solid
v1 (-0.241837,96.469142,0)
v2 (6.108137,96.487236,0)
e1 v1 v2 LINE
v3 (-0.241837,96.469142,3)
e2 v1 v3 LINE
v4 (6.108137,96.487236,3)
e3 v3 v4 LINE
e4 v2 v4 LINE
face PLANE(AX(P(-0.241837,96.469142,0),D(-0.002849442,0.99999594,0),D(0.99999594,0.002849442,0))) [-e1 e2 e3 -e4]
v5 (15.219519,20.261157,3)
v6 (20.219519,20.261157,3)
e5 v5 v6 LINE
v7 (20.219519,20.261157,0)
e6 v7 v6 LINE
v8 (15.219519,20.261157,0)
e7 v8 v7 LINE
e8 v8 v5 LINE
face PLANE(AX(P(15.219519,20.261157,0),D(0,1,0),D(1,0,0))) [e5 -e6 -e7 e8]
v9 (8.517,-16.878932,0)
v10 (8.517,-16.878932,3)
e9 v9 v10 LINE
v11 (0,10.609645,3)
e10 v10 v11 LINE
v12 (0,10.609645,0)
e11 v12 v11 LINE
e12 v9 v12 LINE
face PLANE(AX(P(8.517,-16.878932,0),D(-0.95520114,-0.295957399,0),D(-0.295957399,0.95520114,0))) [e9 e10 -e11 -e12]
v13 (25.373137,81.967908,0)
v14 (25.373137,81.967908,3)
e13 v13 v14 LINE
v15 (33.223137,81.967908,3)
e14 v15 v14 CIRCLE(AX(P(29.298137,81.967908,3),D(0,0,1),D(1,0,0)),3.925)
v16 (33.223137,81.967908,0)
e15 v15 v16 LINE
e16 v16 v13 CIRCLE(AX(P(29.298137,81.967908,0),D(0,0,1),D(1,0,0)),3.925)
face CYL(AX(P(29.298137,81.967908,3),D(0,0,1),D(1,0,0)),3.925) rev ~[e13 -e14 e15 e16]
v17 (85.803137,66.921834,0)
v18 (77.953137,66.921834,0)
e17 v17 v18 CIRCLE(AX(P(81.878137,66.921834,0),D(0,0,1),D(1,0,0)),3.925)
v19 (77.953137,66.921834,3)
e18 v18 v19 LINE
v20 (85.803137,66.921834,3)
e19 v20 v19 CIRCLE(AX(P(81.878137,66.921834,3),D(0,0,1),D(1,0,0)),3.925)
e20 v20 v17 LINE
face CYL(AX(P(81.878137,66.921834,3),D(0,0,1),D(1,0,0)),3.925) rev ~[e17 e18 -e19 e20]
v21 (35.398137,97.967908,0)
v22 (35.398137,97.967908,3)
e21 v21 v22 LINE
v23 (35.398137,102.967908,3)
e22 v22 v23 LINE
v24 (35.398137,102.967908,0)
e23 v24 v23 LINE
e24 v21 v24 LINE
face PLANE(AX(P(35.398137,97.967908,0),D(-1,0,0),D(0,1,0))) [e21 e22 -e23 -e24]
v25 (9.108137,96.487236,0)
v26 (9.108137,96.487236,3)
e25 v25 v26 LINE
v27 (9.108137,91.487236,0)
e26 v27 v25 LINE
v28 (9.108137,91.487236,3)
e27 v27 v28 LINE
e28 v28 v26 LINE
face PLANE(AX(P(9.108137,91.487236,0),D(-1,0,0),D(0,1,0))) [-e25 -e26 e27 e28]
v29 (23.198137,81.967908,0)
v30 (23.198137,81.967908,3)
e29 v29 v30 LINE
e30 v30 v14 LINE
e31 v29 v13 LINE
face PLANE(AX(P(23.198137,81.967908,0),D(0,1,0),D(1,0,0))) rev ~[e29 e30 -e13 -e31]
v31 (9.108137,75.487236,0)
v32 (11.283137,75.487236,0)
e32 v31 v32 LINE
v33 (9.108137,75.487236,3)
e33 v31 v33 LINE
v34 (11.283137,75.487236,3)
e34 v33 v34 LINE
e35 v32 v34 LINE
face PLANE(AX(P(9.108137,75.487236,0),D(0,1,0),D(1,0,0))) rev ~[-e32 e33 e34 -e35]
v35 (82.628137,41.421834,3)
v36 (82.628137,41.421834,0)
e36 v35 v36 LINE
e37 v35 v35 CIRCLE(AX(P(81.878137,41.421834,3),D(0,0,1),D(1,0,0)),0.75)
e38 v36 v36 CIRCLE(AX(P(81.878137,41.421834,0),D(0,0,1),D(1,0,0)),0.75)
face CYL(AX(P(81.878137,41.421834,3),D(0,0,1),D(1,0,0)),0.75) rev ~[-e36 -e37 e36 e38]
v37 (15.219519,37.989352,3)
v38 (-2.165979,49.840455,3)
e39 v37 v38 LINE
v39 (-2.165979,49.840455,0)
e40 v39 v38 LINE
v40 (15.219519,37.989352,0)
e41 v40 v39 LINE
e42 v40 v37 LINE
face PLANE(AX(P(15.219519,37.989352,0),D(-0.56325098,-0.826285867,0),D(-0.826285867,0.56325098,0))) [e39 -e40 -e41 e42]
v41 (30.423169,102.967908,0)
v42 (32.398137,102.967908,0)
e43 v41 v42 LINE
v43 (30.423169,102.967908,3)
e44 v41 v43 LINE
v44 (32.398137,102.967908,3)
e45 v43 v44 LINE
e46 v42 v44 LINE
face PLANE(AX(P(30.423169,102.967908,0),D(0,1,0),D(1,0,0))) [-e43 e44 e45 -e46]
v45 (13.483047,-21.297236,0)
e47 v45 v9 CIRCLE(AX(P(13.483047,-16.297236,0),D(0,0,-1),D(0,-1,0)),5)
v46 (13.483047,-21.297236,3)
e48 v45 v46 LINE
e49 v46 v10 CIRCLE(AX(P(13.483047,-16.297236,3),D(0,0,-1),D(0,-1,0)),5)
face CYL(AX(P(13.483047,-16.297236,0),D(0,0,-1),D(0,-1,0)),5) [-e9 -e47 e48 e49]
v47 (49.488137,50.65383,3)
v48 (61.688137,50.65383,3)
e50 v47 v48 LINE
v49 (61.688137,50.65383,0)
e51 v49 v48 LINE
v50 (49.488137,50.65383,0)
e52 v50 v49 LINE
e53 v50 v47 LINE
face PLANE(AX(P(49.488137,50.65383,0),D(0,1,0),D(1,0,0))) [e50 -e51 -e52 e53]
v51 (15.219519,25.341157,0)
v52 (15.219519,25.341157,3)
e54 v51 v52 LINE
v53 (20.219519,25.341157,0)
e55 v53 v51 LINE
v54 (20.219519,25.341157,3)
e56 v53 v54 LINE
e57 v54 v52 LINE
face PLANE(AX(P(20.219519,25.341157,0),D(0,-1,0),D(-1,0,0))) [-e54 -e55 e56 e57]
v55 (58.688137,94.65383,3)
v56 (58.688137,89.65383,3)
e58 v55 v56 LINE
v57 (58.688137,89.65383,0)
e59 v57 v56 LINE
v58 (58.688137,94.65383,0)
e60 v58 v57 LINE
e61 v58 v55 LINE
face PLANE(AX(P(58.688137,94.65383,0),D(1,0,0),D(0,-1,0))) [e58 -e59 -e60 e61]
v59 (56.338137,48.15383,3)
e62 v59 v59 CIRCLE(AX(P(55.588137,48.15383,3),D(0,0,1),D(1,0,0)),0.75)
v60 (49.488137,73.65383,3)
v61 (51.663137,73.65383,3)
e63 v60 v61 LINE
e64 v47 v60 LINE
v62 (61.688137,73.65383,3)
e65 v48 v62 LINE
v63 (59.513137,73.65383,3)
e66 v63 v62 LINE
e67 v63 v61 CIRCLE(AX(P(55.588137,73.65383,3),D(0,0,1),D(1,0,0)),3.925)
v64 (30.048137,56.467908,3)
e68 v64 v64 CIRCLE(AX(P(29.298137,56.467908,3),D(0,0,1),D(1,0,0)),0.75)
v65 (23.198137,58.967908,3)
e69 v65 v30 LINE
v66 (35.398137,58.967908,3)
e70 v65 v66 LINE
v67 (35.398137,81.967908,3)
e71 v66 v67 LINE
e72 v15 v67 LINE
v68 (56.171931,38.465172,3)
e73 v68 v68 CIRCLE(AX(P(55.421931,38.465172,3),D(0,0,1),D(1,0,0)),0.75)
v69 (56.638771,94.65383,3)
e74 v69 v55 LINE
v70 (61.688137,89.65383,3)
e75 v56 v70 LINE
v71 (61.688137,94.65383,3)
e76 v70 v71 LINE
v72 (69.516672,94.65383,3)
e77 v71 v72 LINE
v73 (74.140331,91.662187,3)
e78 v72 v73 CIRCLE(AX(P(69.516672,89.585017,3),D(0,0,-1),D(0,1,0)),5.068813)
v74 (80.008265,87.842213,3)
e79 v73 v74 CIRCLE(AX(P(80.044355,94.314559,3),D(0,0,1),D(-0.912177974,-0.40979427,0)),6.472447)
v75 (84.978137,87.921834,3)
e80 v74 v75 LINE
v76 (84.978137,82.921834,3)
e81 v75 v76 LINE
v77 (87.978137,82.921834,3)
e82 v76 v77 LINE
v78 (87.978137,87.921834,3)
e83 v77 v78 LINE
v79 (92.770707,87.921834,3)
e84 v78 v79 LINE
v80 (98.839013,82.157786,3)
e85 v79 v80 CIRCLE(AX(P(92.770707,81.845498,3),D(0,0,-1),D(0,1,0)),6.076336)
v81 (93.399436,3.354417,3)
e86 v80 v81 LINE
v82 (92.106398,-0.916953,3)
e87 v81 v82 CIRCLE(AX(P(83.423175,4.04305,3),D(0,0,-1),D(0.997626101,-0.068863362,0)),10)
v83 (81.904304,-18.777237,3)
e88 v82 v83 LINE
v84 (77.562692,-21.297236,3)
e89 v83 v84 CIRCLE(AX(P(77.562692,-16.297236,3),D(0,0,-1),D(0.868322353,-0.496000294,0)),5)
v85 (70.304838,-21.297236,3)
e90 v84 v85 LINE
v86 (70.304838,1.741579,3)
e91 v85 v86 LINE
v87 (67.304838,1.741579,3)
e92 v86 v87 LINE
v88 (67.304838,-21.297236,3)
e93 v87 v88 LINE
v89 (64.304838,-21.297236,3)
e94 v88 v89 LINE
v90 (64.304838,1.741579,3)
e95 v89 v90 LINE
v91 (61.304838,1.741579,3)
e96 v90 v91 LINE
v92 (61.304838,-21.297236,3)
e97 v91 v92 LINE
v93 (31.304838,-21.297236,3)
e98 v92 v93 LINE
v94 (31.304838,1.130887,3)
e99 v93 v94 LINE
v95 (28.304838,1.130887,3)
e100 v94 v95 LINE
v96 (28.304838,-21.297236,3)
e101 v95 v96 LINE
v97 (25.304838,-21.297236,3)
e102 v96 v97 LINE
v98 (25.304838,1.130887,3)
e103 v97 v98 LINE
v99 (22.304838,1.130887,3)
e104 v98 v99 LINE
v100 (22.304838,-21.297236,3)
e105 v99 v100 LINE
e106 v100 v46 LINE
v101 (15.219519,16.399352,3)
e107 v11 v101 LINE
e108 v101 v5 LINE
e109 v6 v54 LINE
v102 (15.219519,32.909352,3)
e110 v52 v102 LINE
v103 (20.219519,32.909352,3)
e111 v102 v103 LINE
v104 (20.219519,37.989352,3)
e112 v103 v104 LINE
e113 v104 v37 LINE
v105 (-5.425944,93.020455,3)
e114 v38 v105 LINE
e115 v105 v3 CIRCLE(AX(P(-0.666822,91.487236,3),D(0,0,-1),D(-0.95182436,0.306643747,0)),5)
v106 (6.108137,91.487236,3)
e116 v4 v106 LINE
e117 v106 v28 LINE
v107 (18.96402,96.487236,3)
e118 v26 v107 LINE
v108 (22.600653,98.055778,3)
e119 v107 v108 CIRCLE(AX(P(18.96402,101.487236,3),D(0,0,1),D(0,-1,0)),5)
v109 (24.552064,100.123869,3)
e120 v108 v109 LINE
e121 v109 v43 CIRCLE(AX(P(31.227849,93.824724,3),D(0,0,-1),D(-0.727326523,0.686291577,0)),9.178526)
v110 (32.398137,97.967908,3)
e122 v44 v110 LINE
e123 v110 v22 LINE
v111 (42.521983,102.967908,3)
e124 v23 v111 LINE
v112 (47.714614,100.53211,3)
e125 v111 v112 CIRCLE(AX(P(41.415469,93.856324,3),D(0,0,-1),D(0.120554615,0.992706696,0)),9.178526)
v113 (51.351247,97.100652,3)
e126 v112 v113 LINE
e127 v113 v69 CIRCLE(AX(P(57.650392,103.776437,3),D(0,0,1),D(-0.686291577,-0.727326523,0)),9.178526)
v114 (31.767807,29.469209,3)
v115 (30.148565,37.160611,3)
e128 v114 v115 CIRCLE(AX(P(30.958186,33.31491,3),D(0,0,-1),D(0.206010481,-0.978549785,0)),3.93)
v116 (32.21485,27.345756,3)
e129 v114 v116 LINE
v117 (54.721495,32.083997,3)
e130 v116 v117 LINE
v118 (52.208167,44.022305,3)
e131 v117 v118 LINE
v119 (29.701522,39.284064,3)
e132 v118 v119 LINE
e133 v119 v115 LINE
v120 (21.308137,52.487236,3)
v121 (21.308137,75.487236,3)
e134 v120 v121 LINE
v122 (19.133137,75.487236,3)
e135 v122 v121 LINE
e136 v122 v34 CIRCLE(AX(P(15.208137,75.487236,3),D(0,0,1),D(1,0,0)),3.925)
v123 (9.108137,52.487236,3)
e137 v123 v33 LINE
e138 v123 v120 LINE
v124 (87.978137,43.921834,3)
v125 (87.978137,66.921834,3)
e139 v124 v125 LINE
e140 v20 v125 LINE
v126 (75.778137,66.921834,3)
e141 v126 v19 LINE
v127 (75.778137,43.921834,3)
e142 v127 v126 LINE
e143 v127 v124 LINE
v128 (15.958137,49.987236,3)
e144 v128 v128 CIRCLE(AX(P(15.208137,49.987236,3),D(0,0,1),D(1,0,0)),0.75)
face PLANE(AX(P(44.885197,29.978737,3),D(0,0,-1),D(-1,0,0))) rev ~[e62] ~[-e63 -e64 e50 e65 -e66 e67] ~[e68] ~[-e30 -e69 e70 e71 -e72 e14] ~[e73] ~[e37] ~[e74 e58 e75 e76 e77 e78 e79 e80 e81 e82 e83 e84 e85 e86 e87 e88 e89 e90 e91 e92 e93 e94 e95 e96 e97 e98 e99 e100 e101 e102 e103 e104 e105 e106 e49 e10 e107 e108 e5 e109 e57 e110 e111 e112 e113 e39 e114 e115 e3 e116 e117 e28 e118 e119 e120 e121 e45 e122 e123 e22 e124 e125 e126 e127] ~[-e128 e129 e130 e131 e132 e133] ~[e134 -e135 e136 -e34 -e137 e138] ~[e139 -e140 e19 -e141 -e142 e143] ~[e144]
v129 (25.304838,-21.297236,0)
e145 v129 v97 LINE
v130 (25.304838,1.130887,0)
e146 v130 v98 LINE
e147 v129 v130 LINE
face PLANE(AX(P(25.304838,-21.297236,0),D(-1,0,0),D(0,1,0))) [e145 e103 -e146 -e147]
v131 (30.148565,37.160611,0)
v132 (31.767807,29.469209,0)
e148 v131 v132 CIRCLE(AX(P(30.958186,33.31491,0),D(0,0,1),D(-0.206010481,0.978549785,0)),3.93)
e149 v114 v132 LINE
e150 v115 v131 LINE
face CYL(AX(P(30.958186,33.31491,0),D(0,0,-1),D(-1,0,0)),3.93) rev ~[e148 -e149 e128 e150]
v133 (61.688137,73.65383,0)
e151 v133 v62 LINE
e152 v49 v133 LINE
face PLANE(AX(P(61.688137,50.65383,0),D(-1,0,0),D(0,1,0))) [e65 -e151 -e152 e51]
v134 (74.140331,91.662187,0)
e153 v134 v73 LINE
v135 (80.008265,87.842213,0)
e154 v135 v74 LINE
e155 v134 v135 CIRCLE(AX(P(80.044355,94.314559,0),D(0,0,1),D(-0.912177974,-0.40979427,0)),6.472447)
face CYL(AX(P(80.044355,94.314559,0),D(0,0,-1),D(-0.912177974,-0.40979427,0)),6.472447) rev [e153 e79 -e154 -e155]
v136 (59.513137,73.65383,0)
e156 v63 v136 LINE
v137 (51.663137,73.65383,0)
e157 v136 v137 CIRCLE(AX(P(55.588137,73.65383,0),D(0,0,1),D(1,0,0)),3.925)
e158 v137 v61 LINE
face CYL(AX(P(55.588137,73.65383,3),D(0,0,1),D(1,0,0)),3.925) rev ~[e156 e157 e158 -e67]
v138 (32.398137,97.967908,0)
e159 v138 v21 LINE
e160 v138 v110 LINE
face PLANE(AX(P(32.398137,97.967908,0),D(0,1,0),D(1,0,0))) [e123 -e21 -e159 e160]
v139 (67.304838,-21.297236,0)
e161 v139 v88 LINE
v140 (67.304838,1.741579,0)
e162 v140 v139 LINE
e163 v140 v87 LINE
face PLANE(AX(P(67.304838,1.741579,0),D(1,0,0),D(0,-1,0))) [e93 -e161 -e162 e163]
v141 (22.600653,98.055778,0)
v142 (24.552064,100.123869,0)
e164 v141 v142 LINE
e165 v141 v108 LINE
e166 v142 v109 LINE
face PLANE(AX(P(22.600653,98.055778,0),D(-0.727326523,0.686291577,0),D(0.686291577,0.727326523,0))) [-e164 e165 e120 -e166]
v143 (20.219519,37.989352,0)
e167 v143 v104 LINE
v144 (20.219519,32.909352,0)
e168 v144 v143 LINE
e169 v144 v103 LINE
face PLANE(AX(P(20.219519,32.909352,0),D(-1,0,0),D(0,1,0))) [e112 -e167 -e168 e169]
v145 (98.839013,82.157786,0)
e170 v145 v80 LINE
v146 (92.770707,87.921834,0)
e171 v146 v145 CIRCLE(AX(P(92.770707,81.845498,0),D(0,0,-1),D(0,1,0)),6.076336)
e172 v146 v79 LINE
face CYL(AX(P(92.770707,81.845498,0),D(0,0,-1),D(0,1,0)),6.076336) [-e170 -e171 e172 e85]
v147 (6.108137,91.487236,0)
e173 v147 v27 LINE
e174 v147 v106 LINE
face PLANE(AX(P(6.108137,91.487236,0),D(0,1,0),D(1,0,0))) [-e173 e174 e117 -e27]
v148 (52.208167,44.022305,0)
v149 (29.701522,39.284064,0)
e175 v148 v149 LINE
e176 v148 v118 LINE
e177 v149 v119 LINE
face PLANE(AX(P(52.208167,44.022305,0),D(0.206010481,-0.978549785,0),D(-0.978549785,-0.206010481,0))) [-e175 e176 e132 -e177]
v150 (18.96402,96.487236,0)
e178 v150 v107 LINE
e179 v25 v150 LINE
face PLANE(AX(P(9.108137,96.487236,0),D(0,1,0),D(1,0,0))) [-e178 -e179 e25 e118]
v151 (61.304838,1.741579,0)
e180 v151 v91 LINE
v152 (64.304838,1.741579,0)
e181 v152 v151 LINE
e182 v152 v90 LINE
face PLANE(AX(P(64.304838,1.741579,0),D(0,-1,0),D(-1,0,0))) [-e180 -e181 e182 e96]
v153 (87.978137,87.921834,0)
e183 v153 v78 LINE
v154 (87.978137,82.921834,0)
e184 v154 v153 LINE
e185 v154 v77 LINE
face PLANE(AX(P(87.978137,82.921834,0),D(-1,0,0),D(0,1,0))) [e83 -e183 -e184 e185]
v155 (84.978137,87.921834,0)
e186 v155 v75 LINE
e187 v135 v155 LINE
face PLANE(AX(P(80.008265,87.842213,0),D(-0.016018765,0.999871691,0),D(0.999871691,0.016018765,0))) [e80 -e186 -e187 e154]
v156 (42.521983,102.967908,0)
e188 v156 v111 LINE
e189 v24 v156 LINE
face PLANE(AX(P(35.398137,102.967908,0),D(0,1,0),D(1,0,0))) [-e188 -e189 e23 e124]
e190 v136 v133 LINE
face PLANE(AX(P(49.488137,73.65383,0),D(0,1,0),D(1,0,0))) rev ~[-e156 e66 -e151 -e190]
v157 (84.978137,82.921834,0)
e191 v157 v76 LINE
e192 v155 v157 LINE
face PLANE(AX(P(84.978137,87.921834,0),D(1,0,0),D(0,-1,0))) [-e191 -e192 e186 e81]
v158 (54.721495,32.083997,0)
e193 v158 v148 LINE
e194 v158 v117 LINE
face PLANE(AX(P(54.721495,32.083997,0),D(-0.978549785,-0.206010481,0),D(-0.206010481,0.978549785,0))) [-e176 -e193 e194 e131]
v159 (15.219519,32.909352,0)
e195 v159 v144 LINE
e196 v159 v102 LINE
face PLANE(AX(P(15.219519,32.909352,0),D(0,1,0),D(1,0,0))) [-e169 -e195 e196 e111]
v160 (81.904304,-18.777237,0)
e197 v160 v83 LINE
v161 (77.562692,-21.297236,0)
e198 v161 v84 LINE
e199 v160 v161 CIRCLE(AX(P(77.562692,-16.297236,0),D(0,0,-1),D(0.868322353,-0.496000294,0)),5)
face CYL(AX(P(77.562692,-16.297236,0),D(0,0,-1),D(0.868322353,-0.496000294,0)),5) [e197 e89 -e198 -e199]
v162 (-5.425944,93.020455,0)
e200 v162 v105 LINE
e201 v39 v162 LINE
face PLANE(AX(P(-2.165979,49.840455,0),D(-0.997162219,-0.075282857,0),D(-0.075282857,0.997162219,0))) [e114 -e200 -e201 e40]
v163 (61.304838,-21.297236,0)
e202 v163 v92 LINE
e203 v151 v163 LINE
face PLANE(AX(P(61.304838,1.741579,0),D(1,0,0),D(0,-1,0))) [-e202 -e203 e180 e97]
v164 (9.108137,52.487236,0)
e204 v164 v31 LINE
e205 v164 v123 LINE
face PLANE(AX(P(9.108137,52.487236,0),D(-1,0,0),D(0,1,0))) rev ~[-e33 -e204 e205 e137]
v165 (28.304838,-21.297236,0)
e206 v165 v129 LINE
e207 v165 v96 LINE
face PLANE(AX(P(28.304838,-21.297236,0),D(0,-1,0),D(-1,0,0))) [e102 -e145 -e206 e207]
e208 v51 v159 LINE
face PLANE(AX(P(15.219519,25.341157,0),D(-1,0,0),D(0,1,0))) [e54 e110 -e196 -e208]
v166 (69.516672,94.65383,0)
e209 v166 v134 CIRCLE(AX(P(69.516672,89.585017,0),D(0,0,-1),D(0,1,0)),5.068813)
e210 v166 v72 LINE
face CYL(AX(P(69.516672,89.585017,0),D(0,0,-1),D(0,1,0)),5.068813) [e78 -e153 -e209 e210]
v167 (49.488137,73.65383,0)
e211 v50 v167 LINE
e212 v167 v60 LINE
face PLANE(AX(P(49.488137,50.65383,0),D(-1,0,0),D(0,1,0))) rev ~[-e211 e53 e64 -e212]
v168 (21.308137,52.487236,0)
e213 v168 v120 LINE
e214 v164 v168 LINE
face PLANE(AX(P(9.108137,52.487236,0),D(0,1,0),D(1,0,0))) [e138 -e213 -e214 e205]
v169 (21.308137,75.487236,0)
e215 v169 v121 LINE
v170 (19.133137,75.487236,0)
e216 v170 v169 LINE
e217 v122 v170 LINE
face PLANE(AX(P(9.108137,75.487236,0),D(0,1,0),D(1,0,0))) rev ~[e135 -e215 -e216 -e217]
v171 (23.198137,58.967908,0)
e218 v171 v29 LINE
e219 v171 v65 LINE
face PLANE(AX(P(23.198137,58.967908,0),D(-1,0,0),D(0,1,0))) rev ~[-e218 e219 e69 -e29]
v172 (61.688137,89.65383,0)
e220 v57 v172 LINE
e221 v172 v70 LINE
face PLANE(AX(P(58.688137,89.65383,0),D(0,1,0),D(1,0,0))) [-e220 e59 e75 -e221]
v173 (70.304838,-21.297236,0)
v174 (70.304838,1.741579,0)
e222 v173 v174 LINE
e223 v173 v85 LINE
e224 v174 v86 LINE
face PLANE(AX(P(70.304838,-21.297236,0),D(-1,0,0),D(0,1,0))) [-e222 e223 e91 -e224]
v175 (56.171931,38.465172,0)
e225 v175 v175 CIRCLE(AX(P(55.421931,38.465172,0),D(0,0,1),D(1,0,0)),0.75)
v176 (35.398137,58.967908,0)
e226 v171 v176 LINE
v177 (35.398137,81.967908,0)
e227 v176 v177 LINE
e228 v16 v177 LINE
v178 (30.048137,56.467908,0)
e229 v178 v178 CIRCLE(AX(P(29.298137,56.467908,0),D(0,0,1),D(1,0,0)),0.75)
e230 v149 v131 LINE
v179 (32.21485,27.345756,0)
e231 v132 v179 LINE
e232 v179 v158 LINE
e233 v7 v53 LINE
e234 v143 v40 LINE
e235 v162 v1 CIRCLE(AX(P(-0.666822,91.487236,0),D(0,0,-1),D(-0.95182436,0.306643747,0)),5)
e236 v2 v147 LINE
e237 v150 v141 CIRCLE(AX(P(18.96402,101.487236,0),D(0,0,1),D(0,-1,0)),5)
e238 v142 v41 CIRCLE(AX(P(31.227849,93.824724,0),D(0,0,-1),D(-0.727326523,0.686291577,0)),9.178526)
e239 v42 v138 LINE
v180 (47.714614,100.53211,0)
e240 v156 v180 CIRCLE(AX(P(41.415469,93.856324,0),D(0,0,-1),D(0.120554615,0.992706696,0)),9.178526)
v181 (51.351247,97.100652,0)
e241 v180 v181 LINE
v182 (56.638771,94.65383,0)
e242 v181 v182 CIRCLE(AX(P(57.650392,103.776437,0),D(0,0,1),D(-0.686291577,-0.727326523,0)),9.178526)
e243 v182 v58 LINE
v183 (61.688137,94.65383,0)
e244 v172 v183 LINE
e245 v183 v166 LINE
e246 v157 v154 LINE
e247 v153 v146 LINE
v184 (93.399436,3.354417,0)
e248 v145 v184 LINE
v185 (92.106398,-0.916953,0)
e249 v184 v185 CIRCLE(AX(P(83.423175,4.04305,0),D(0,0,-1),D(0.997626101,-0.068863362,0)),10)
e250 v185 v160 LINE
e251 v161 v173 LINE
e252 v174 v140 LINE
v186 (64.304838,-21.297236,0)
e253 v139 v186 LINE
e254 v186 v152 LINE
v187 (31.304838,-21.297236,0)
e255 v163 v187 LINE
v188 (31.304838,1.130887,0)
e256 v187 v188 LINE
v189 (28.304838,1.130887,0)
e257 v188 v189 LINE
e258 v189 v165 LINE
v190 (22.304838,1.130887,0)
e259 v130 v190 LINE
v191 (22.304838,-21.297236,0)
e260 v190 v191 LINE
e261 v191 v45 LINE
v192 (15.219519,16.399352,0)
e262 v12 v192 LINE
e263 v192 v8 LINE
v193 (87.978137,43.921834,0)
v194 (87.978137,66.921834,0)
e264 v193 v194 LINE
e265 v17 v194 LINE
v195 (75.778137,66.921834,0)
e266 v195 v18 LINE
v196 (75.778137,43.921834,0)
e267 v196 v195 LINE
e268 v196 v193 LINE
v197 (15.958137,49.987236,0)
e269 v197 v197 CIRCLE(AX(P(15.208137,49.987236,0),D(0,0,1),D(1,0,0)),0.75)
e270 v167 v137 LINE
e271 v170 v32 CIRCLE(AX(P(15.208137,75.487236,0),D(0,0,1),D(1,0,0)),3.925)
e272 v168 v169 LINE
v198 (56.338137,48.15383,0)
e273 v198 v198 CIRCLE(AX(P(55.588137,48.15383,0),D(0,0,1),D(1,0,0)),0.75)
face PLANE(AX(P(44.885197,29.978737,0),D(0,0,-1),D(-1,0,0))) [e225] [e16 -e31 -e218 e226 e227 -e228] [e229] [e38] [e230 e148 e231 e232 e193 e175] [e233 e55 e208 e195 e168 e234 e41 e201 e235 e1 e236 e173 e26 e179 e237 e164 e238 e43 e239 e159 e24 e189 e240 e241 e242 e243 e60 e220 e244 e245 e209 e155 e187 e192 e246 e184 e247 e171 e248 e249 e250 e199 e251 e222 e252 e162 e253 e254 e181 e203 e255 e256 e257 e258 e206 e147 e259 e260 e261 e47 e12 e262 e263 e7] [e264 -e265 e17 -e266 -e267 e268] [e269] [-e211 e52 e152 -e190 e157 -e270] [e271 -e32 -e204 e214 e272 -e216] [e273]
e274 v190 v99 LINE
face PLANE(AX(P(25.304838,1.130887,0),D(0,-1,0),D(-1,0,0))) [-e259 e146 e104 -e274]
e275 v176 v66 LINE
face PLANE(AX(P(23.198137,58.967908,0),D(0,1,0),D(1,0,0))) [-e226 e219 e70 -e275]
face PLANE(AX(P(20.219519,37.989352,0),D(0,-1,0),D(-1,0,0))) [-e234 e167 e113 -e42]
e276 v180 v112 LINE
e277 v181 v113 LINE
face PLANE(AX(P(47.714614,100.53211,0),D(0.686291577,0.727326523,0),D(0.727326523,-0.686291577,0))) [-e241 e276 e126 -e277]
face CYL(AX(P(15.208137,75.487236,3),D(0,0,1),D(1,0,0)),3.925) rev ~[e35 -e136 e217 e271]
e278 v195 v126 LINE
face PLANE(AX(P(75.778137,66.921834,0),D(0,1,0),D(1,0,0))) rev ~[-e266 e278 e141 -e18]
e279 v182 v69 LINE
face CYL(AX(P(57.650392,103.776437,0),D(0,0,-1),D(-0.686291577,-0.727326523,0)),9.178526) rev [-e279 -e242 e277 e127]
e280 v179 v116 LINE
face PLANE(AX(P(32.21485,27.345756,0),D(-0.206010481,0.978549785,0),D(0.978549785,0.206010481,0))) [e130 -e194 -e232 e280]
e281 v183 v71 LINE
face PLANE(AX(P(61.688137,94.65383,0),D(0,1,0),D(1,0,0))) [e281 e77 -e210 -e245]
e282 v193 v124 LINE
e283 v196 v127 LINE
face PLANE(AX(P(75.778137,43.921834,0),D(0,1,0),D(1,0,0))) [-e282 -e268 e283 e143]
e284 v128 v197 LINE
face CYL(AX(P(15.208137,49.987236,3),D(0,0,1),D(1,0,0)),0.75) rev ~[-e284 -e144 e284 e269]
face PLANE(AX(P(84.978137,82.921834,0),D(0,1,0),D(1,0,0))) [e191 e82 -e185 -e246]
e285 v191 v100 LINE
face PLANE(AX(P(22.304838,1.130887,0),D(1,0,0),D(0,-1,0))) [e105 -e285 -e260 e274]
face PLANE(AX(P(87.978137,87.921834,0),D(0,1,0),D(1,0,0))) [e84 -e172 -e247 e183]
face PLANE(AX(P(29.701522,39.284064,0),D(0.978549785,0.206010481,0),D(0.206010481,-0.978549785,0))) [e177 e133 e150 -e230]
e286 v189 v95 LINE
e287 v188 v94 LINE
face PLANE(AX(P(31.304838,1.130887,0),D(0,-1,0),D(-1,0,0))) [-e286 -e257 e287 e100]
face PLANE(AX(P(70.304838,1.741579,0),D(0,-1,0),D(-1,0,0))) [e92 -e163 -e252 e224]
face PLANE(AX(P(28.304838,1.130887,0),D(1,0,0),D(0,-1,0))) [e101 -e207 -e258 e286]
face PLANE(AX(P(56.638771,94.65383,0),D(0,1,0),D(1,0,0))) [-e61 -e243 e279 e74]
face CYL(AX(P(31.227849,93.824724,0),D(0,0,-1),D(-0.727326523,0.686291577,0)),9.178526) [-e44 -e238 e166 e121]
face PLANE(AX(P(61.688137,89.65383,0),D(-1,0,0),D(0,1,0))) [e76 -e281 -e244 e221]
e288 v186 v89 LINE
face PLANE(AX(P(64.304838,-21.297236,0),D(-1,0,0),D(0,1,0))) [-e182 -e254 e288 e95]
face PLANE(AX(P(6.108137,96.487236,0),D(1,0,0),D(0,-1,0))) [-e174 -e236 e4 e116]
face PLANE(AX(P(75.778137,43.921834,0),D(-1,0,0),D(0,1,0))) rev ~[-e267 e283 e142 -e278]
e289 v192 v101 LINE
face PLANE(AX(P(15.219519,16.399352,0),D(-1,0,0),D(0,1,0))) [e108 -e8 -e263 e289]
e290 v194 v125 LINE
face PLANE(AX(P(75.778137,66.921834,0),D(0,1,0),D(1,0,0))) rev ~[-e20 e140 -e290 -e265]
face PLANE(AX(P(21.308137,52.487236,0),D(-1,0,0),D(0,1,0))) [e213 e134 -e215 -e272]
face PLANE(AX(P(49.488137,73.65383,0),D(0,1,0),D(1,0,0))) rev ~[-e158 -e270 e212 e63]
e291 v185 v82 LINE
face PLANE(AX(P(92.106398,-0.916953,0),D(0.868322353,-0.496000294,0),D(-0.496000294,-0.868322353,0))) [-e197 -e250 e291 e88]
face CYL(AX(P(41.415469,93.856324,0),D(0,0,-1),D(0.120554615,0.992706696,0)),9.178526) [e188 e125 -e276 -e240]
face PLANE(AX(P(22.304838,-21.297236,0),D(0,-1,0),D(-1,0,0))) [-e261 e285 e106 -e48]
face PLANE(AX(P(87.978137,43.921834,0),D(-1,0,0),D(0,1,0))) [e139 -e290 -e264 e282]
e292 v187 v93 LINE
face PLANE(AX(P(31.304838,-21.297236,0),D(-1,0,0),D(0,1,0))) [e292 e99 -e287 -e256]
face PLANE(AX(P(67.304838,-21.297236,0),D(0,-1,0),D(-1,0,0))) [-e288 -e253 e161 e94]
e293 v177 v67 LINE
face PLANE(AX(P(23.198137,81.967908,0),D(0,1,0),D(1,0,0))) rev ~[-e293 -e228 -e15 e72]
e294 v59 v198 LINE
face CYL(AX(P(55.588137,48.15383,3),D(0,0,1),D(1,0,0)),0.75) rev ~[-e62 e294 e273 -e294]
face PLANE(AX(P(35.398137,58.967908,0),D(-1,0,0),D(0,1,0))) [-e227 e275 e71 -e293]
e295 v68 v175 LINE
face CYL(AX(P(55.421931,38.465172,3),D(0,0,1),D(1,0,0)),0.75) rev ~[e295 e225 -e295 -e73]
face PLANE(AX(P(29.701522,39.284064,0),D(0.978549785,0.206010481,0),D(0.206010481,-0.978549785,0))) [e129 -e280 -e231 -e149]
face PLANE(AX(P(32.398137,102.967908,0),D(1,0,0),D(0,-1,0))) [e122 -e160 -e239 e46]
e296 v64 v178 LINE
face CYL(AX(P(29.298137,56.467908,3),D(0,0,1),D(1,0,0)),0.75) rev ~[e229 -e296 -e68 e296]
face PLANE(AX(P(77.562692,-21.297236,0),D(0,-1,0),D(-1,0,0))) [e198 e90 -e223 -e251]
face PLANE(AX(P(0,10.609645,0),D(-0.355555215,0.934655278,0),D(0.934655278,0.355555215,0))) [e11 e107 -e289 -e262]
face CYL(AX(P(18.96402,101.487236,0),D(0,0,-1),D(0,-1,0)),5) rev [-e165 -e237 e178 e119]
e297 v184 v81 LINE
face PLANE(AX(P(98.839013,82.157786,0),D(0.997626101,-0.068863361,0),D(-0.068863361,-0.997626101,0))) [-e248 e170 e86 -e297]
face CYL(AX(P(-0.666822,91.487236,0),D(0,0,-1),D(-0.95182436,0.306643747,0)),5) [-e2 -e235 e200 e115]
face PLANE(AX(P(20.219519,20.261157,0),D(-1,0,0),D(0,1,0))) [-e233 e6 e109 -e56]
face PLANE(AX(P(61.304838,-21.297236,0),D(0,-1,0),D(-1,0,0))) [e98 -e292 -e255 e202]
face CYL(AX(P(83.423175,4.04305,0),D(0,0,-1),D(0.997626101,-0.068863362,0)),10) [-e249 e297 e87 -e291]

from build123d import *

# Parameters (mm, degrees)
SKETCH1_W           = 12.2
SKETCH1_H           = 23
BOSS_EXTRUDE1_DEPTH = 3
CUT_EXTRUDE2_DEPTH  = 4
SKETCH5_R           = 3.925
CUT_EXTRUDE3_DEPTH  = 4
SKETCH6_R           = 0.75
CUT_EXTRUDE4_DEPTH  = 4
SKETCH7_R           = 3.93
SKETCH7_R_2         = 0.75
CUT_EXTRUDE5_DEPTH  = 4
SKETCH8_R           = 0.75
CUT_EXTRUDE6_DEPTH  = 4


with BuildPart() as part:
    # Sketch1 → Boss-Extrude1 (new body)
    with BuildSketch(Plane.XY):
        with BuildLine():
            Line((22.600652844, 98.055778181), (24.552064, 100.123868682))
            ThreePointArc((24.552064, 100.123868682), (27.226414403, 102.085102355), (30.423169177, 102.967908395))
            Line((30.423169177, 102.967908395), (32.3981368, 102.967908395))
            Line((32.3981368, 102.967908395), (32.3981368, 97.967908395))
            Line((32.3981368, 97.967908395), (35.3981368, 97.967908395))
            Line((35.3981368, 97.967908395), (35.3981368, 102.967908395))
            Line((35.3981368, 102.967908395), (42.521983007, 102.967908395))
            ThreePointArc((42.521983007, 102.967908395), (45.313446231, 102.166024258), (47.714614303, 100.532109635))
            Line((47.714614303, 100.532109635), (51.351246918, 97.100651749))
            ThreePointArc((51.351246918, 97.100651749), (53.795711755, 95.446564433), (56.638770897, 94.65382999))
            Line((56.638770897, 94.65382999), (58.6881368, 94.65382999))
            Line((58.6881368, 94.65382999), (58.6881368, 89.65382999))
            Line((58.6881368, 89.65382999), (61.6881368, 89.65382999))
            Line((61.6881368, 89.65382999), (61.6881368, 94.65382999))
            Line((61.6881368, 94.65382999), (69.516671711, 94.65382999))
            ThreePointArc((69.516671711, 94.65382999), (72.270221934, 93.840698694), (74.140331494, 91.662187375))
            ThreePointArc((74.140331494, 91.662187375), (76.513167022, 88.89023599), (80.008265046, 87.842212737))
            Line((80.008265046, 87.842212737), (84.9781368, 87.921834161))
            Line((84.9781368, 87.921834161), (84.9781368, 82.921834161))
            Line((84.9781368, 82.921834161), (87.9781368, 82.921834161))
            Line((87.9781368, 82.921834161), (87.9781368, 87.921834161))
            Line((87.9781368, 87.921834161), (92.770707207, 87.921834161))
            ThreePointArc((92.770707207, 87.921834161), (96.955459046, 86.251143727), (98.839013483, 82.157786039))
            Line((98.839013483, 82.157786039), (93.399435569, 3.354416739))
            ThreePointArc((93.399435569, 3.354416739), (92.994237185, 1.145679097), (92.106398089, -0.916952583))
            Line((92.106398089, -0.916952583), (81.904303792, -18.77723742))
            ThreePointArc((81.904303792, -18.77723742), (80.072671375, -20.621586038), (77.562692027, -21.297235952))
            Line((77.562692027, -21.297235952), (70.304838359, -21.297235952))
            Line((70.304838359, -21.297235952), (70.304838359, 1.741579383))
            Line((70.304838359, 1.741579383), (67.304838359, 1.741579383))
            Line((67.304838359, 1.741579383), (67.304838359, -21.297235952))
            Line((67.304838359, -21.297235952), (64.304838359, -21.297235952))
            Line((64.304838359, -21.297235952), (64.304838359, 1.741579383))
            Line((64.304838359, 1.741579383), (61.304838359, 1.741579383))
            Line((61.304838359, 1.741579383), (61.304838359, -21.297235952))
            Line((61.304838359, -21.297235952), (31.304838359, -21.297235952))
            Line((31.304838359, -21.297235952), (31.304838359, 1.130887015))
            Line((31.304838359, 1.130887015), (28.304838359, 1.130887015))
            Line((28.304838359, 1.130887015), (28.304838359, -21.297235952))
            Line((28.304838359, -21.297235952), (25.304838359, -21.297235952))
            Line((25.304838359, -21.297235952), (25.304838359, 1.130887015))
            Line((25.304838359, 1.130887015), (22.304838359, 1.130887015))
            Line((22.304838359, 1.130887015), (22.304838359, -21.297235952))
            Line((22.304838359, -21.297235952), (13.483047429, -21.297235952))
            ThreePointArc((13.483047429, -21.297235952), (10.159531289, -20.032773458), (8.51699975, -16.878932137))
            Line((8.51699975, -16.878932137), (0, 10.609645279))
            Line((0, 10.609645279), (15.219519397, 16.399351506))
            Line((15.219519397, 16.399351506), (15.219519397, 20.261157087))
            Line((15.219519397, 20.261157087), (20.219519397, 20.261157087))
            Line((20.219519397, 20.261157087), (20.219519397, 25.341157087))
            Line((20.219519397, 25.341157087), (15.219519397, 25.341157087))
            Line((15.219519397, 25.341157087), (15.219519397, 32.909351506))
            Line((15.219519397, 32.909351506), (20.219519397, 32.909351506))
            Line((20.219519397, 32.909351506), (20.219519397, 37.989351506))
            Line((20.219519397, 37.989351506), (15.219519397, 37.989351506))
            Line((15.219519397, 37.989351506), (-2.165979283, 49.840454802))
            Line((-2.165979283, 49.840454802), (-5.425944103, 93.020454802))
            ThreePointArc((-5.425944103, 93.020454802), (-3.436216957, 95.650222165), (-0.241837421, 96.469142112))
            Line((-0.241837421, 96.469142112), (6.1081368, 96.487236066))
            Line((6.1081368, 96.487236066), (6.1081368, 91.487236066))
            Line((6.1081368, 91.487236066), (9.1081368, 91.487236066))
            Line((9.1081368, 91.487236066), (9.1081368, 96.487236066))
            Line((9.1081368, 96.487236066), (18.964020228, 96.487236066))
            ThreePointArc((18.964020228, 96.487236066), (20.944261448, 96.896087548), (22.600652844, 98.055778181))
        make_face()
        with Locations((81.8781368, 55.421834161)):
            Rectangle(SKETCH1_W, SKETCH1_H, mode=Mode.SUBTRACT)
        with Locations((55.5881368, 62.15382999)):
            Rectangle(SKETCH1_W, SKETCH1_H, mode=Mode.SUBTRACT)
        with Locations((29.2981368, 70.467908395)):
            Rectangle(SKETCH1_W, SKETCH1_H, mode=Mode.SUBTRACT)
        with Locations((15.2081368, 63.987236066)):
            Rectangle(SKETCH1_W, SKETCH1_H, mode=Mode.SUBTRACT)
    extrude(amount=BOSS_EXTRUDE1_DEPTH)

    # Sketch4 → Cut-Extrude2 (cut, through all)
    with BuildSketch(Plane(origin=(0, 0, 0), x_dir=(-1, 0, 0), z_dir=(0, 0, -1))):
        Polygon((-52.208167191, 44.022304868), (-29.701522137, 39.284063804), (-32.214850005, 27.345756427), (-54.72149506, 32.083997491), align=None)
    extrude(amount=-CUT_EXTRUDE2_DEPTH, mode=Mode.SUBTRACT)

    # Sketch5 → Cut-Extrude3 (cut, through all)
    with BuildSketch(Plane.XY.offset(3)):
        with Locations((15.2081368, 75.487236066)):
            Circle(SKETCH5_R)
        with Locations((29.2981368, 81.967908395)):
            Circle(SKETCH5_R)
        with Locations((55.5881368, 73.65382999)):
            Circle(SKETCH5_R)
        with Locations((81.8781368, 66.921834161)):
            Circle(SKETCH5_R)
    extrude(amount=-CUT_EXTRUDE3_DEPTH, mode=Mode.SUBTRACT)

    # Sketch6 → Cut-Extrude4 (cut, through all)
    with BuildSketch(Plane.XY.offset(3)):
        with Locations((15.2081368, 49.987236066)):
            Circle(SKETCH6_R)
        with Locations((29.2981368, 56.467908395)):
            Circle(SKETCH6_R)
        with Locations((55.5881368, 48.15382999)):
            Circle(SKETCH6_R)
        with Locations((81.8781368, 41.421834161)):
            Circle(SKETCH6_R)
    extrude(amount=-CUT_EXTRUDE4_DEPTH, mode=Mode.SUBTRACT)

    # Sketch7 → Cut-Extrude5 (cut, through all)
    with BuildSketch(Plane(origin=(0, 0, 0), x_dir=(-1, 0, 0), z_dir=(0, 0, -1))):
        with Locations((-30.958186071, 33.314910116)):
            Circle(SKETCH7_R)
        with Locations((-52.760024114, 36.18145487)):
            Circle(SKETCH7_R_2)
    extrude(amount=-CUT_EXTRUDE5_DEPTH, mode=Mode.SUBTRACT)

    # Sketch8 → Cut-Extrude6 (cut, through all)
    with BuildSketch(Plane.XY.offset(3)):
        with Locations((55.421930696, 38.465172142)):
            Circle(SKETCH8_R)
    extrude(amount=-CUT_EXTRUDE6_DEPTH, mode=Mode.SUBTRACT)


solid = part.part
